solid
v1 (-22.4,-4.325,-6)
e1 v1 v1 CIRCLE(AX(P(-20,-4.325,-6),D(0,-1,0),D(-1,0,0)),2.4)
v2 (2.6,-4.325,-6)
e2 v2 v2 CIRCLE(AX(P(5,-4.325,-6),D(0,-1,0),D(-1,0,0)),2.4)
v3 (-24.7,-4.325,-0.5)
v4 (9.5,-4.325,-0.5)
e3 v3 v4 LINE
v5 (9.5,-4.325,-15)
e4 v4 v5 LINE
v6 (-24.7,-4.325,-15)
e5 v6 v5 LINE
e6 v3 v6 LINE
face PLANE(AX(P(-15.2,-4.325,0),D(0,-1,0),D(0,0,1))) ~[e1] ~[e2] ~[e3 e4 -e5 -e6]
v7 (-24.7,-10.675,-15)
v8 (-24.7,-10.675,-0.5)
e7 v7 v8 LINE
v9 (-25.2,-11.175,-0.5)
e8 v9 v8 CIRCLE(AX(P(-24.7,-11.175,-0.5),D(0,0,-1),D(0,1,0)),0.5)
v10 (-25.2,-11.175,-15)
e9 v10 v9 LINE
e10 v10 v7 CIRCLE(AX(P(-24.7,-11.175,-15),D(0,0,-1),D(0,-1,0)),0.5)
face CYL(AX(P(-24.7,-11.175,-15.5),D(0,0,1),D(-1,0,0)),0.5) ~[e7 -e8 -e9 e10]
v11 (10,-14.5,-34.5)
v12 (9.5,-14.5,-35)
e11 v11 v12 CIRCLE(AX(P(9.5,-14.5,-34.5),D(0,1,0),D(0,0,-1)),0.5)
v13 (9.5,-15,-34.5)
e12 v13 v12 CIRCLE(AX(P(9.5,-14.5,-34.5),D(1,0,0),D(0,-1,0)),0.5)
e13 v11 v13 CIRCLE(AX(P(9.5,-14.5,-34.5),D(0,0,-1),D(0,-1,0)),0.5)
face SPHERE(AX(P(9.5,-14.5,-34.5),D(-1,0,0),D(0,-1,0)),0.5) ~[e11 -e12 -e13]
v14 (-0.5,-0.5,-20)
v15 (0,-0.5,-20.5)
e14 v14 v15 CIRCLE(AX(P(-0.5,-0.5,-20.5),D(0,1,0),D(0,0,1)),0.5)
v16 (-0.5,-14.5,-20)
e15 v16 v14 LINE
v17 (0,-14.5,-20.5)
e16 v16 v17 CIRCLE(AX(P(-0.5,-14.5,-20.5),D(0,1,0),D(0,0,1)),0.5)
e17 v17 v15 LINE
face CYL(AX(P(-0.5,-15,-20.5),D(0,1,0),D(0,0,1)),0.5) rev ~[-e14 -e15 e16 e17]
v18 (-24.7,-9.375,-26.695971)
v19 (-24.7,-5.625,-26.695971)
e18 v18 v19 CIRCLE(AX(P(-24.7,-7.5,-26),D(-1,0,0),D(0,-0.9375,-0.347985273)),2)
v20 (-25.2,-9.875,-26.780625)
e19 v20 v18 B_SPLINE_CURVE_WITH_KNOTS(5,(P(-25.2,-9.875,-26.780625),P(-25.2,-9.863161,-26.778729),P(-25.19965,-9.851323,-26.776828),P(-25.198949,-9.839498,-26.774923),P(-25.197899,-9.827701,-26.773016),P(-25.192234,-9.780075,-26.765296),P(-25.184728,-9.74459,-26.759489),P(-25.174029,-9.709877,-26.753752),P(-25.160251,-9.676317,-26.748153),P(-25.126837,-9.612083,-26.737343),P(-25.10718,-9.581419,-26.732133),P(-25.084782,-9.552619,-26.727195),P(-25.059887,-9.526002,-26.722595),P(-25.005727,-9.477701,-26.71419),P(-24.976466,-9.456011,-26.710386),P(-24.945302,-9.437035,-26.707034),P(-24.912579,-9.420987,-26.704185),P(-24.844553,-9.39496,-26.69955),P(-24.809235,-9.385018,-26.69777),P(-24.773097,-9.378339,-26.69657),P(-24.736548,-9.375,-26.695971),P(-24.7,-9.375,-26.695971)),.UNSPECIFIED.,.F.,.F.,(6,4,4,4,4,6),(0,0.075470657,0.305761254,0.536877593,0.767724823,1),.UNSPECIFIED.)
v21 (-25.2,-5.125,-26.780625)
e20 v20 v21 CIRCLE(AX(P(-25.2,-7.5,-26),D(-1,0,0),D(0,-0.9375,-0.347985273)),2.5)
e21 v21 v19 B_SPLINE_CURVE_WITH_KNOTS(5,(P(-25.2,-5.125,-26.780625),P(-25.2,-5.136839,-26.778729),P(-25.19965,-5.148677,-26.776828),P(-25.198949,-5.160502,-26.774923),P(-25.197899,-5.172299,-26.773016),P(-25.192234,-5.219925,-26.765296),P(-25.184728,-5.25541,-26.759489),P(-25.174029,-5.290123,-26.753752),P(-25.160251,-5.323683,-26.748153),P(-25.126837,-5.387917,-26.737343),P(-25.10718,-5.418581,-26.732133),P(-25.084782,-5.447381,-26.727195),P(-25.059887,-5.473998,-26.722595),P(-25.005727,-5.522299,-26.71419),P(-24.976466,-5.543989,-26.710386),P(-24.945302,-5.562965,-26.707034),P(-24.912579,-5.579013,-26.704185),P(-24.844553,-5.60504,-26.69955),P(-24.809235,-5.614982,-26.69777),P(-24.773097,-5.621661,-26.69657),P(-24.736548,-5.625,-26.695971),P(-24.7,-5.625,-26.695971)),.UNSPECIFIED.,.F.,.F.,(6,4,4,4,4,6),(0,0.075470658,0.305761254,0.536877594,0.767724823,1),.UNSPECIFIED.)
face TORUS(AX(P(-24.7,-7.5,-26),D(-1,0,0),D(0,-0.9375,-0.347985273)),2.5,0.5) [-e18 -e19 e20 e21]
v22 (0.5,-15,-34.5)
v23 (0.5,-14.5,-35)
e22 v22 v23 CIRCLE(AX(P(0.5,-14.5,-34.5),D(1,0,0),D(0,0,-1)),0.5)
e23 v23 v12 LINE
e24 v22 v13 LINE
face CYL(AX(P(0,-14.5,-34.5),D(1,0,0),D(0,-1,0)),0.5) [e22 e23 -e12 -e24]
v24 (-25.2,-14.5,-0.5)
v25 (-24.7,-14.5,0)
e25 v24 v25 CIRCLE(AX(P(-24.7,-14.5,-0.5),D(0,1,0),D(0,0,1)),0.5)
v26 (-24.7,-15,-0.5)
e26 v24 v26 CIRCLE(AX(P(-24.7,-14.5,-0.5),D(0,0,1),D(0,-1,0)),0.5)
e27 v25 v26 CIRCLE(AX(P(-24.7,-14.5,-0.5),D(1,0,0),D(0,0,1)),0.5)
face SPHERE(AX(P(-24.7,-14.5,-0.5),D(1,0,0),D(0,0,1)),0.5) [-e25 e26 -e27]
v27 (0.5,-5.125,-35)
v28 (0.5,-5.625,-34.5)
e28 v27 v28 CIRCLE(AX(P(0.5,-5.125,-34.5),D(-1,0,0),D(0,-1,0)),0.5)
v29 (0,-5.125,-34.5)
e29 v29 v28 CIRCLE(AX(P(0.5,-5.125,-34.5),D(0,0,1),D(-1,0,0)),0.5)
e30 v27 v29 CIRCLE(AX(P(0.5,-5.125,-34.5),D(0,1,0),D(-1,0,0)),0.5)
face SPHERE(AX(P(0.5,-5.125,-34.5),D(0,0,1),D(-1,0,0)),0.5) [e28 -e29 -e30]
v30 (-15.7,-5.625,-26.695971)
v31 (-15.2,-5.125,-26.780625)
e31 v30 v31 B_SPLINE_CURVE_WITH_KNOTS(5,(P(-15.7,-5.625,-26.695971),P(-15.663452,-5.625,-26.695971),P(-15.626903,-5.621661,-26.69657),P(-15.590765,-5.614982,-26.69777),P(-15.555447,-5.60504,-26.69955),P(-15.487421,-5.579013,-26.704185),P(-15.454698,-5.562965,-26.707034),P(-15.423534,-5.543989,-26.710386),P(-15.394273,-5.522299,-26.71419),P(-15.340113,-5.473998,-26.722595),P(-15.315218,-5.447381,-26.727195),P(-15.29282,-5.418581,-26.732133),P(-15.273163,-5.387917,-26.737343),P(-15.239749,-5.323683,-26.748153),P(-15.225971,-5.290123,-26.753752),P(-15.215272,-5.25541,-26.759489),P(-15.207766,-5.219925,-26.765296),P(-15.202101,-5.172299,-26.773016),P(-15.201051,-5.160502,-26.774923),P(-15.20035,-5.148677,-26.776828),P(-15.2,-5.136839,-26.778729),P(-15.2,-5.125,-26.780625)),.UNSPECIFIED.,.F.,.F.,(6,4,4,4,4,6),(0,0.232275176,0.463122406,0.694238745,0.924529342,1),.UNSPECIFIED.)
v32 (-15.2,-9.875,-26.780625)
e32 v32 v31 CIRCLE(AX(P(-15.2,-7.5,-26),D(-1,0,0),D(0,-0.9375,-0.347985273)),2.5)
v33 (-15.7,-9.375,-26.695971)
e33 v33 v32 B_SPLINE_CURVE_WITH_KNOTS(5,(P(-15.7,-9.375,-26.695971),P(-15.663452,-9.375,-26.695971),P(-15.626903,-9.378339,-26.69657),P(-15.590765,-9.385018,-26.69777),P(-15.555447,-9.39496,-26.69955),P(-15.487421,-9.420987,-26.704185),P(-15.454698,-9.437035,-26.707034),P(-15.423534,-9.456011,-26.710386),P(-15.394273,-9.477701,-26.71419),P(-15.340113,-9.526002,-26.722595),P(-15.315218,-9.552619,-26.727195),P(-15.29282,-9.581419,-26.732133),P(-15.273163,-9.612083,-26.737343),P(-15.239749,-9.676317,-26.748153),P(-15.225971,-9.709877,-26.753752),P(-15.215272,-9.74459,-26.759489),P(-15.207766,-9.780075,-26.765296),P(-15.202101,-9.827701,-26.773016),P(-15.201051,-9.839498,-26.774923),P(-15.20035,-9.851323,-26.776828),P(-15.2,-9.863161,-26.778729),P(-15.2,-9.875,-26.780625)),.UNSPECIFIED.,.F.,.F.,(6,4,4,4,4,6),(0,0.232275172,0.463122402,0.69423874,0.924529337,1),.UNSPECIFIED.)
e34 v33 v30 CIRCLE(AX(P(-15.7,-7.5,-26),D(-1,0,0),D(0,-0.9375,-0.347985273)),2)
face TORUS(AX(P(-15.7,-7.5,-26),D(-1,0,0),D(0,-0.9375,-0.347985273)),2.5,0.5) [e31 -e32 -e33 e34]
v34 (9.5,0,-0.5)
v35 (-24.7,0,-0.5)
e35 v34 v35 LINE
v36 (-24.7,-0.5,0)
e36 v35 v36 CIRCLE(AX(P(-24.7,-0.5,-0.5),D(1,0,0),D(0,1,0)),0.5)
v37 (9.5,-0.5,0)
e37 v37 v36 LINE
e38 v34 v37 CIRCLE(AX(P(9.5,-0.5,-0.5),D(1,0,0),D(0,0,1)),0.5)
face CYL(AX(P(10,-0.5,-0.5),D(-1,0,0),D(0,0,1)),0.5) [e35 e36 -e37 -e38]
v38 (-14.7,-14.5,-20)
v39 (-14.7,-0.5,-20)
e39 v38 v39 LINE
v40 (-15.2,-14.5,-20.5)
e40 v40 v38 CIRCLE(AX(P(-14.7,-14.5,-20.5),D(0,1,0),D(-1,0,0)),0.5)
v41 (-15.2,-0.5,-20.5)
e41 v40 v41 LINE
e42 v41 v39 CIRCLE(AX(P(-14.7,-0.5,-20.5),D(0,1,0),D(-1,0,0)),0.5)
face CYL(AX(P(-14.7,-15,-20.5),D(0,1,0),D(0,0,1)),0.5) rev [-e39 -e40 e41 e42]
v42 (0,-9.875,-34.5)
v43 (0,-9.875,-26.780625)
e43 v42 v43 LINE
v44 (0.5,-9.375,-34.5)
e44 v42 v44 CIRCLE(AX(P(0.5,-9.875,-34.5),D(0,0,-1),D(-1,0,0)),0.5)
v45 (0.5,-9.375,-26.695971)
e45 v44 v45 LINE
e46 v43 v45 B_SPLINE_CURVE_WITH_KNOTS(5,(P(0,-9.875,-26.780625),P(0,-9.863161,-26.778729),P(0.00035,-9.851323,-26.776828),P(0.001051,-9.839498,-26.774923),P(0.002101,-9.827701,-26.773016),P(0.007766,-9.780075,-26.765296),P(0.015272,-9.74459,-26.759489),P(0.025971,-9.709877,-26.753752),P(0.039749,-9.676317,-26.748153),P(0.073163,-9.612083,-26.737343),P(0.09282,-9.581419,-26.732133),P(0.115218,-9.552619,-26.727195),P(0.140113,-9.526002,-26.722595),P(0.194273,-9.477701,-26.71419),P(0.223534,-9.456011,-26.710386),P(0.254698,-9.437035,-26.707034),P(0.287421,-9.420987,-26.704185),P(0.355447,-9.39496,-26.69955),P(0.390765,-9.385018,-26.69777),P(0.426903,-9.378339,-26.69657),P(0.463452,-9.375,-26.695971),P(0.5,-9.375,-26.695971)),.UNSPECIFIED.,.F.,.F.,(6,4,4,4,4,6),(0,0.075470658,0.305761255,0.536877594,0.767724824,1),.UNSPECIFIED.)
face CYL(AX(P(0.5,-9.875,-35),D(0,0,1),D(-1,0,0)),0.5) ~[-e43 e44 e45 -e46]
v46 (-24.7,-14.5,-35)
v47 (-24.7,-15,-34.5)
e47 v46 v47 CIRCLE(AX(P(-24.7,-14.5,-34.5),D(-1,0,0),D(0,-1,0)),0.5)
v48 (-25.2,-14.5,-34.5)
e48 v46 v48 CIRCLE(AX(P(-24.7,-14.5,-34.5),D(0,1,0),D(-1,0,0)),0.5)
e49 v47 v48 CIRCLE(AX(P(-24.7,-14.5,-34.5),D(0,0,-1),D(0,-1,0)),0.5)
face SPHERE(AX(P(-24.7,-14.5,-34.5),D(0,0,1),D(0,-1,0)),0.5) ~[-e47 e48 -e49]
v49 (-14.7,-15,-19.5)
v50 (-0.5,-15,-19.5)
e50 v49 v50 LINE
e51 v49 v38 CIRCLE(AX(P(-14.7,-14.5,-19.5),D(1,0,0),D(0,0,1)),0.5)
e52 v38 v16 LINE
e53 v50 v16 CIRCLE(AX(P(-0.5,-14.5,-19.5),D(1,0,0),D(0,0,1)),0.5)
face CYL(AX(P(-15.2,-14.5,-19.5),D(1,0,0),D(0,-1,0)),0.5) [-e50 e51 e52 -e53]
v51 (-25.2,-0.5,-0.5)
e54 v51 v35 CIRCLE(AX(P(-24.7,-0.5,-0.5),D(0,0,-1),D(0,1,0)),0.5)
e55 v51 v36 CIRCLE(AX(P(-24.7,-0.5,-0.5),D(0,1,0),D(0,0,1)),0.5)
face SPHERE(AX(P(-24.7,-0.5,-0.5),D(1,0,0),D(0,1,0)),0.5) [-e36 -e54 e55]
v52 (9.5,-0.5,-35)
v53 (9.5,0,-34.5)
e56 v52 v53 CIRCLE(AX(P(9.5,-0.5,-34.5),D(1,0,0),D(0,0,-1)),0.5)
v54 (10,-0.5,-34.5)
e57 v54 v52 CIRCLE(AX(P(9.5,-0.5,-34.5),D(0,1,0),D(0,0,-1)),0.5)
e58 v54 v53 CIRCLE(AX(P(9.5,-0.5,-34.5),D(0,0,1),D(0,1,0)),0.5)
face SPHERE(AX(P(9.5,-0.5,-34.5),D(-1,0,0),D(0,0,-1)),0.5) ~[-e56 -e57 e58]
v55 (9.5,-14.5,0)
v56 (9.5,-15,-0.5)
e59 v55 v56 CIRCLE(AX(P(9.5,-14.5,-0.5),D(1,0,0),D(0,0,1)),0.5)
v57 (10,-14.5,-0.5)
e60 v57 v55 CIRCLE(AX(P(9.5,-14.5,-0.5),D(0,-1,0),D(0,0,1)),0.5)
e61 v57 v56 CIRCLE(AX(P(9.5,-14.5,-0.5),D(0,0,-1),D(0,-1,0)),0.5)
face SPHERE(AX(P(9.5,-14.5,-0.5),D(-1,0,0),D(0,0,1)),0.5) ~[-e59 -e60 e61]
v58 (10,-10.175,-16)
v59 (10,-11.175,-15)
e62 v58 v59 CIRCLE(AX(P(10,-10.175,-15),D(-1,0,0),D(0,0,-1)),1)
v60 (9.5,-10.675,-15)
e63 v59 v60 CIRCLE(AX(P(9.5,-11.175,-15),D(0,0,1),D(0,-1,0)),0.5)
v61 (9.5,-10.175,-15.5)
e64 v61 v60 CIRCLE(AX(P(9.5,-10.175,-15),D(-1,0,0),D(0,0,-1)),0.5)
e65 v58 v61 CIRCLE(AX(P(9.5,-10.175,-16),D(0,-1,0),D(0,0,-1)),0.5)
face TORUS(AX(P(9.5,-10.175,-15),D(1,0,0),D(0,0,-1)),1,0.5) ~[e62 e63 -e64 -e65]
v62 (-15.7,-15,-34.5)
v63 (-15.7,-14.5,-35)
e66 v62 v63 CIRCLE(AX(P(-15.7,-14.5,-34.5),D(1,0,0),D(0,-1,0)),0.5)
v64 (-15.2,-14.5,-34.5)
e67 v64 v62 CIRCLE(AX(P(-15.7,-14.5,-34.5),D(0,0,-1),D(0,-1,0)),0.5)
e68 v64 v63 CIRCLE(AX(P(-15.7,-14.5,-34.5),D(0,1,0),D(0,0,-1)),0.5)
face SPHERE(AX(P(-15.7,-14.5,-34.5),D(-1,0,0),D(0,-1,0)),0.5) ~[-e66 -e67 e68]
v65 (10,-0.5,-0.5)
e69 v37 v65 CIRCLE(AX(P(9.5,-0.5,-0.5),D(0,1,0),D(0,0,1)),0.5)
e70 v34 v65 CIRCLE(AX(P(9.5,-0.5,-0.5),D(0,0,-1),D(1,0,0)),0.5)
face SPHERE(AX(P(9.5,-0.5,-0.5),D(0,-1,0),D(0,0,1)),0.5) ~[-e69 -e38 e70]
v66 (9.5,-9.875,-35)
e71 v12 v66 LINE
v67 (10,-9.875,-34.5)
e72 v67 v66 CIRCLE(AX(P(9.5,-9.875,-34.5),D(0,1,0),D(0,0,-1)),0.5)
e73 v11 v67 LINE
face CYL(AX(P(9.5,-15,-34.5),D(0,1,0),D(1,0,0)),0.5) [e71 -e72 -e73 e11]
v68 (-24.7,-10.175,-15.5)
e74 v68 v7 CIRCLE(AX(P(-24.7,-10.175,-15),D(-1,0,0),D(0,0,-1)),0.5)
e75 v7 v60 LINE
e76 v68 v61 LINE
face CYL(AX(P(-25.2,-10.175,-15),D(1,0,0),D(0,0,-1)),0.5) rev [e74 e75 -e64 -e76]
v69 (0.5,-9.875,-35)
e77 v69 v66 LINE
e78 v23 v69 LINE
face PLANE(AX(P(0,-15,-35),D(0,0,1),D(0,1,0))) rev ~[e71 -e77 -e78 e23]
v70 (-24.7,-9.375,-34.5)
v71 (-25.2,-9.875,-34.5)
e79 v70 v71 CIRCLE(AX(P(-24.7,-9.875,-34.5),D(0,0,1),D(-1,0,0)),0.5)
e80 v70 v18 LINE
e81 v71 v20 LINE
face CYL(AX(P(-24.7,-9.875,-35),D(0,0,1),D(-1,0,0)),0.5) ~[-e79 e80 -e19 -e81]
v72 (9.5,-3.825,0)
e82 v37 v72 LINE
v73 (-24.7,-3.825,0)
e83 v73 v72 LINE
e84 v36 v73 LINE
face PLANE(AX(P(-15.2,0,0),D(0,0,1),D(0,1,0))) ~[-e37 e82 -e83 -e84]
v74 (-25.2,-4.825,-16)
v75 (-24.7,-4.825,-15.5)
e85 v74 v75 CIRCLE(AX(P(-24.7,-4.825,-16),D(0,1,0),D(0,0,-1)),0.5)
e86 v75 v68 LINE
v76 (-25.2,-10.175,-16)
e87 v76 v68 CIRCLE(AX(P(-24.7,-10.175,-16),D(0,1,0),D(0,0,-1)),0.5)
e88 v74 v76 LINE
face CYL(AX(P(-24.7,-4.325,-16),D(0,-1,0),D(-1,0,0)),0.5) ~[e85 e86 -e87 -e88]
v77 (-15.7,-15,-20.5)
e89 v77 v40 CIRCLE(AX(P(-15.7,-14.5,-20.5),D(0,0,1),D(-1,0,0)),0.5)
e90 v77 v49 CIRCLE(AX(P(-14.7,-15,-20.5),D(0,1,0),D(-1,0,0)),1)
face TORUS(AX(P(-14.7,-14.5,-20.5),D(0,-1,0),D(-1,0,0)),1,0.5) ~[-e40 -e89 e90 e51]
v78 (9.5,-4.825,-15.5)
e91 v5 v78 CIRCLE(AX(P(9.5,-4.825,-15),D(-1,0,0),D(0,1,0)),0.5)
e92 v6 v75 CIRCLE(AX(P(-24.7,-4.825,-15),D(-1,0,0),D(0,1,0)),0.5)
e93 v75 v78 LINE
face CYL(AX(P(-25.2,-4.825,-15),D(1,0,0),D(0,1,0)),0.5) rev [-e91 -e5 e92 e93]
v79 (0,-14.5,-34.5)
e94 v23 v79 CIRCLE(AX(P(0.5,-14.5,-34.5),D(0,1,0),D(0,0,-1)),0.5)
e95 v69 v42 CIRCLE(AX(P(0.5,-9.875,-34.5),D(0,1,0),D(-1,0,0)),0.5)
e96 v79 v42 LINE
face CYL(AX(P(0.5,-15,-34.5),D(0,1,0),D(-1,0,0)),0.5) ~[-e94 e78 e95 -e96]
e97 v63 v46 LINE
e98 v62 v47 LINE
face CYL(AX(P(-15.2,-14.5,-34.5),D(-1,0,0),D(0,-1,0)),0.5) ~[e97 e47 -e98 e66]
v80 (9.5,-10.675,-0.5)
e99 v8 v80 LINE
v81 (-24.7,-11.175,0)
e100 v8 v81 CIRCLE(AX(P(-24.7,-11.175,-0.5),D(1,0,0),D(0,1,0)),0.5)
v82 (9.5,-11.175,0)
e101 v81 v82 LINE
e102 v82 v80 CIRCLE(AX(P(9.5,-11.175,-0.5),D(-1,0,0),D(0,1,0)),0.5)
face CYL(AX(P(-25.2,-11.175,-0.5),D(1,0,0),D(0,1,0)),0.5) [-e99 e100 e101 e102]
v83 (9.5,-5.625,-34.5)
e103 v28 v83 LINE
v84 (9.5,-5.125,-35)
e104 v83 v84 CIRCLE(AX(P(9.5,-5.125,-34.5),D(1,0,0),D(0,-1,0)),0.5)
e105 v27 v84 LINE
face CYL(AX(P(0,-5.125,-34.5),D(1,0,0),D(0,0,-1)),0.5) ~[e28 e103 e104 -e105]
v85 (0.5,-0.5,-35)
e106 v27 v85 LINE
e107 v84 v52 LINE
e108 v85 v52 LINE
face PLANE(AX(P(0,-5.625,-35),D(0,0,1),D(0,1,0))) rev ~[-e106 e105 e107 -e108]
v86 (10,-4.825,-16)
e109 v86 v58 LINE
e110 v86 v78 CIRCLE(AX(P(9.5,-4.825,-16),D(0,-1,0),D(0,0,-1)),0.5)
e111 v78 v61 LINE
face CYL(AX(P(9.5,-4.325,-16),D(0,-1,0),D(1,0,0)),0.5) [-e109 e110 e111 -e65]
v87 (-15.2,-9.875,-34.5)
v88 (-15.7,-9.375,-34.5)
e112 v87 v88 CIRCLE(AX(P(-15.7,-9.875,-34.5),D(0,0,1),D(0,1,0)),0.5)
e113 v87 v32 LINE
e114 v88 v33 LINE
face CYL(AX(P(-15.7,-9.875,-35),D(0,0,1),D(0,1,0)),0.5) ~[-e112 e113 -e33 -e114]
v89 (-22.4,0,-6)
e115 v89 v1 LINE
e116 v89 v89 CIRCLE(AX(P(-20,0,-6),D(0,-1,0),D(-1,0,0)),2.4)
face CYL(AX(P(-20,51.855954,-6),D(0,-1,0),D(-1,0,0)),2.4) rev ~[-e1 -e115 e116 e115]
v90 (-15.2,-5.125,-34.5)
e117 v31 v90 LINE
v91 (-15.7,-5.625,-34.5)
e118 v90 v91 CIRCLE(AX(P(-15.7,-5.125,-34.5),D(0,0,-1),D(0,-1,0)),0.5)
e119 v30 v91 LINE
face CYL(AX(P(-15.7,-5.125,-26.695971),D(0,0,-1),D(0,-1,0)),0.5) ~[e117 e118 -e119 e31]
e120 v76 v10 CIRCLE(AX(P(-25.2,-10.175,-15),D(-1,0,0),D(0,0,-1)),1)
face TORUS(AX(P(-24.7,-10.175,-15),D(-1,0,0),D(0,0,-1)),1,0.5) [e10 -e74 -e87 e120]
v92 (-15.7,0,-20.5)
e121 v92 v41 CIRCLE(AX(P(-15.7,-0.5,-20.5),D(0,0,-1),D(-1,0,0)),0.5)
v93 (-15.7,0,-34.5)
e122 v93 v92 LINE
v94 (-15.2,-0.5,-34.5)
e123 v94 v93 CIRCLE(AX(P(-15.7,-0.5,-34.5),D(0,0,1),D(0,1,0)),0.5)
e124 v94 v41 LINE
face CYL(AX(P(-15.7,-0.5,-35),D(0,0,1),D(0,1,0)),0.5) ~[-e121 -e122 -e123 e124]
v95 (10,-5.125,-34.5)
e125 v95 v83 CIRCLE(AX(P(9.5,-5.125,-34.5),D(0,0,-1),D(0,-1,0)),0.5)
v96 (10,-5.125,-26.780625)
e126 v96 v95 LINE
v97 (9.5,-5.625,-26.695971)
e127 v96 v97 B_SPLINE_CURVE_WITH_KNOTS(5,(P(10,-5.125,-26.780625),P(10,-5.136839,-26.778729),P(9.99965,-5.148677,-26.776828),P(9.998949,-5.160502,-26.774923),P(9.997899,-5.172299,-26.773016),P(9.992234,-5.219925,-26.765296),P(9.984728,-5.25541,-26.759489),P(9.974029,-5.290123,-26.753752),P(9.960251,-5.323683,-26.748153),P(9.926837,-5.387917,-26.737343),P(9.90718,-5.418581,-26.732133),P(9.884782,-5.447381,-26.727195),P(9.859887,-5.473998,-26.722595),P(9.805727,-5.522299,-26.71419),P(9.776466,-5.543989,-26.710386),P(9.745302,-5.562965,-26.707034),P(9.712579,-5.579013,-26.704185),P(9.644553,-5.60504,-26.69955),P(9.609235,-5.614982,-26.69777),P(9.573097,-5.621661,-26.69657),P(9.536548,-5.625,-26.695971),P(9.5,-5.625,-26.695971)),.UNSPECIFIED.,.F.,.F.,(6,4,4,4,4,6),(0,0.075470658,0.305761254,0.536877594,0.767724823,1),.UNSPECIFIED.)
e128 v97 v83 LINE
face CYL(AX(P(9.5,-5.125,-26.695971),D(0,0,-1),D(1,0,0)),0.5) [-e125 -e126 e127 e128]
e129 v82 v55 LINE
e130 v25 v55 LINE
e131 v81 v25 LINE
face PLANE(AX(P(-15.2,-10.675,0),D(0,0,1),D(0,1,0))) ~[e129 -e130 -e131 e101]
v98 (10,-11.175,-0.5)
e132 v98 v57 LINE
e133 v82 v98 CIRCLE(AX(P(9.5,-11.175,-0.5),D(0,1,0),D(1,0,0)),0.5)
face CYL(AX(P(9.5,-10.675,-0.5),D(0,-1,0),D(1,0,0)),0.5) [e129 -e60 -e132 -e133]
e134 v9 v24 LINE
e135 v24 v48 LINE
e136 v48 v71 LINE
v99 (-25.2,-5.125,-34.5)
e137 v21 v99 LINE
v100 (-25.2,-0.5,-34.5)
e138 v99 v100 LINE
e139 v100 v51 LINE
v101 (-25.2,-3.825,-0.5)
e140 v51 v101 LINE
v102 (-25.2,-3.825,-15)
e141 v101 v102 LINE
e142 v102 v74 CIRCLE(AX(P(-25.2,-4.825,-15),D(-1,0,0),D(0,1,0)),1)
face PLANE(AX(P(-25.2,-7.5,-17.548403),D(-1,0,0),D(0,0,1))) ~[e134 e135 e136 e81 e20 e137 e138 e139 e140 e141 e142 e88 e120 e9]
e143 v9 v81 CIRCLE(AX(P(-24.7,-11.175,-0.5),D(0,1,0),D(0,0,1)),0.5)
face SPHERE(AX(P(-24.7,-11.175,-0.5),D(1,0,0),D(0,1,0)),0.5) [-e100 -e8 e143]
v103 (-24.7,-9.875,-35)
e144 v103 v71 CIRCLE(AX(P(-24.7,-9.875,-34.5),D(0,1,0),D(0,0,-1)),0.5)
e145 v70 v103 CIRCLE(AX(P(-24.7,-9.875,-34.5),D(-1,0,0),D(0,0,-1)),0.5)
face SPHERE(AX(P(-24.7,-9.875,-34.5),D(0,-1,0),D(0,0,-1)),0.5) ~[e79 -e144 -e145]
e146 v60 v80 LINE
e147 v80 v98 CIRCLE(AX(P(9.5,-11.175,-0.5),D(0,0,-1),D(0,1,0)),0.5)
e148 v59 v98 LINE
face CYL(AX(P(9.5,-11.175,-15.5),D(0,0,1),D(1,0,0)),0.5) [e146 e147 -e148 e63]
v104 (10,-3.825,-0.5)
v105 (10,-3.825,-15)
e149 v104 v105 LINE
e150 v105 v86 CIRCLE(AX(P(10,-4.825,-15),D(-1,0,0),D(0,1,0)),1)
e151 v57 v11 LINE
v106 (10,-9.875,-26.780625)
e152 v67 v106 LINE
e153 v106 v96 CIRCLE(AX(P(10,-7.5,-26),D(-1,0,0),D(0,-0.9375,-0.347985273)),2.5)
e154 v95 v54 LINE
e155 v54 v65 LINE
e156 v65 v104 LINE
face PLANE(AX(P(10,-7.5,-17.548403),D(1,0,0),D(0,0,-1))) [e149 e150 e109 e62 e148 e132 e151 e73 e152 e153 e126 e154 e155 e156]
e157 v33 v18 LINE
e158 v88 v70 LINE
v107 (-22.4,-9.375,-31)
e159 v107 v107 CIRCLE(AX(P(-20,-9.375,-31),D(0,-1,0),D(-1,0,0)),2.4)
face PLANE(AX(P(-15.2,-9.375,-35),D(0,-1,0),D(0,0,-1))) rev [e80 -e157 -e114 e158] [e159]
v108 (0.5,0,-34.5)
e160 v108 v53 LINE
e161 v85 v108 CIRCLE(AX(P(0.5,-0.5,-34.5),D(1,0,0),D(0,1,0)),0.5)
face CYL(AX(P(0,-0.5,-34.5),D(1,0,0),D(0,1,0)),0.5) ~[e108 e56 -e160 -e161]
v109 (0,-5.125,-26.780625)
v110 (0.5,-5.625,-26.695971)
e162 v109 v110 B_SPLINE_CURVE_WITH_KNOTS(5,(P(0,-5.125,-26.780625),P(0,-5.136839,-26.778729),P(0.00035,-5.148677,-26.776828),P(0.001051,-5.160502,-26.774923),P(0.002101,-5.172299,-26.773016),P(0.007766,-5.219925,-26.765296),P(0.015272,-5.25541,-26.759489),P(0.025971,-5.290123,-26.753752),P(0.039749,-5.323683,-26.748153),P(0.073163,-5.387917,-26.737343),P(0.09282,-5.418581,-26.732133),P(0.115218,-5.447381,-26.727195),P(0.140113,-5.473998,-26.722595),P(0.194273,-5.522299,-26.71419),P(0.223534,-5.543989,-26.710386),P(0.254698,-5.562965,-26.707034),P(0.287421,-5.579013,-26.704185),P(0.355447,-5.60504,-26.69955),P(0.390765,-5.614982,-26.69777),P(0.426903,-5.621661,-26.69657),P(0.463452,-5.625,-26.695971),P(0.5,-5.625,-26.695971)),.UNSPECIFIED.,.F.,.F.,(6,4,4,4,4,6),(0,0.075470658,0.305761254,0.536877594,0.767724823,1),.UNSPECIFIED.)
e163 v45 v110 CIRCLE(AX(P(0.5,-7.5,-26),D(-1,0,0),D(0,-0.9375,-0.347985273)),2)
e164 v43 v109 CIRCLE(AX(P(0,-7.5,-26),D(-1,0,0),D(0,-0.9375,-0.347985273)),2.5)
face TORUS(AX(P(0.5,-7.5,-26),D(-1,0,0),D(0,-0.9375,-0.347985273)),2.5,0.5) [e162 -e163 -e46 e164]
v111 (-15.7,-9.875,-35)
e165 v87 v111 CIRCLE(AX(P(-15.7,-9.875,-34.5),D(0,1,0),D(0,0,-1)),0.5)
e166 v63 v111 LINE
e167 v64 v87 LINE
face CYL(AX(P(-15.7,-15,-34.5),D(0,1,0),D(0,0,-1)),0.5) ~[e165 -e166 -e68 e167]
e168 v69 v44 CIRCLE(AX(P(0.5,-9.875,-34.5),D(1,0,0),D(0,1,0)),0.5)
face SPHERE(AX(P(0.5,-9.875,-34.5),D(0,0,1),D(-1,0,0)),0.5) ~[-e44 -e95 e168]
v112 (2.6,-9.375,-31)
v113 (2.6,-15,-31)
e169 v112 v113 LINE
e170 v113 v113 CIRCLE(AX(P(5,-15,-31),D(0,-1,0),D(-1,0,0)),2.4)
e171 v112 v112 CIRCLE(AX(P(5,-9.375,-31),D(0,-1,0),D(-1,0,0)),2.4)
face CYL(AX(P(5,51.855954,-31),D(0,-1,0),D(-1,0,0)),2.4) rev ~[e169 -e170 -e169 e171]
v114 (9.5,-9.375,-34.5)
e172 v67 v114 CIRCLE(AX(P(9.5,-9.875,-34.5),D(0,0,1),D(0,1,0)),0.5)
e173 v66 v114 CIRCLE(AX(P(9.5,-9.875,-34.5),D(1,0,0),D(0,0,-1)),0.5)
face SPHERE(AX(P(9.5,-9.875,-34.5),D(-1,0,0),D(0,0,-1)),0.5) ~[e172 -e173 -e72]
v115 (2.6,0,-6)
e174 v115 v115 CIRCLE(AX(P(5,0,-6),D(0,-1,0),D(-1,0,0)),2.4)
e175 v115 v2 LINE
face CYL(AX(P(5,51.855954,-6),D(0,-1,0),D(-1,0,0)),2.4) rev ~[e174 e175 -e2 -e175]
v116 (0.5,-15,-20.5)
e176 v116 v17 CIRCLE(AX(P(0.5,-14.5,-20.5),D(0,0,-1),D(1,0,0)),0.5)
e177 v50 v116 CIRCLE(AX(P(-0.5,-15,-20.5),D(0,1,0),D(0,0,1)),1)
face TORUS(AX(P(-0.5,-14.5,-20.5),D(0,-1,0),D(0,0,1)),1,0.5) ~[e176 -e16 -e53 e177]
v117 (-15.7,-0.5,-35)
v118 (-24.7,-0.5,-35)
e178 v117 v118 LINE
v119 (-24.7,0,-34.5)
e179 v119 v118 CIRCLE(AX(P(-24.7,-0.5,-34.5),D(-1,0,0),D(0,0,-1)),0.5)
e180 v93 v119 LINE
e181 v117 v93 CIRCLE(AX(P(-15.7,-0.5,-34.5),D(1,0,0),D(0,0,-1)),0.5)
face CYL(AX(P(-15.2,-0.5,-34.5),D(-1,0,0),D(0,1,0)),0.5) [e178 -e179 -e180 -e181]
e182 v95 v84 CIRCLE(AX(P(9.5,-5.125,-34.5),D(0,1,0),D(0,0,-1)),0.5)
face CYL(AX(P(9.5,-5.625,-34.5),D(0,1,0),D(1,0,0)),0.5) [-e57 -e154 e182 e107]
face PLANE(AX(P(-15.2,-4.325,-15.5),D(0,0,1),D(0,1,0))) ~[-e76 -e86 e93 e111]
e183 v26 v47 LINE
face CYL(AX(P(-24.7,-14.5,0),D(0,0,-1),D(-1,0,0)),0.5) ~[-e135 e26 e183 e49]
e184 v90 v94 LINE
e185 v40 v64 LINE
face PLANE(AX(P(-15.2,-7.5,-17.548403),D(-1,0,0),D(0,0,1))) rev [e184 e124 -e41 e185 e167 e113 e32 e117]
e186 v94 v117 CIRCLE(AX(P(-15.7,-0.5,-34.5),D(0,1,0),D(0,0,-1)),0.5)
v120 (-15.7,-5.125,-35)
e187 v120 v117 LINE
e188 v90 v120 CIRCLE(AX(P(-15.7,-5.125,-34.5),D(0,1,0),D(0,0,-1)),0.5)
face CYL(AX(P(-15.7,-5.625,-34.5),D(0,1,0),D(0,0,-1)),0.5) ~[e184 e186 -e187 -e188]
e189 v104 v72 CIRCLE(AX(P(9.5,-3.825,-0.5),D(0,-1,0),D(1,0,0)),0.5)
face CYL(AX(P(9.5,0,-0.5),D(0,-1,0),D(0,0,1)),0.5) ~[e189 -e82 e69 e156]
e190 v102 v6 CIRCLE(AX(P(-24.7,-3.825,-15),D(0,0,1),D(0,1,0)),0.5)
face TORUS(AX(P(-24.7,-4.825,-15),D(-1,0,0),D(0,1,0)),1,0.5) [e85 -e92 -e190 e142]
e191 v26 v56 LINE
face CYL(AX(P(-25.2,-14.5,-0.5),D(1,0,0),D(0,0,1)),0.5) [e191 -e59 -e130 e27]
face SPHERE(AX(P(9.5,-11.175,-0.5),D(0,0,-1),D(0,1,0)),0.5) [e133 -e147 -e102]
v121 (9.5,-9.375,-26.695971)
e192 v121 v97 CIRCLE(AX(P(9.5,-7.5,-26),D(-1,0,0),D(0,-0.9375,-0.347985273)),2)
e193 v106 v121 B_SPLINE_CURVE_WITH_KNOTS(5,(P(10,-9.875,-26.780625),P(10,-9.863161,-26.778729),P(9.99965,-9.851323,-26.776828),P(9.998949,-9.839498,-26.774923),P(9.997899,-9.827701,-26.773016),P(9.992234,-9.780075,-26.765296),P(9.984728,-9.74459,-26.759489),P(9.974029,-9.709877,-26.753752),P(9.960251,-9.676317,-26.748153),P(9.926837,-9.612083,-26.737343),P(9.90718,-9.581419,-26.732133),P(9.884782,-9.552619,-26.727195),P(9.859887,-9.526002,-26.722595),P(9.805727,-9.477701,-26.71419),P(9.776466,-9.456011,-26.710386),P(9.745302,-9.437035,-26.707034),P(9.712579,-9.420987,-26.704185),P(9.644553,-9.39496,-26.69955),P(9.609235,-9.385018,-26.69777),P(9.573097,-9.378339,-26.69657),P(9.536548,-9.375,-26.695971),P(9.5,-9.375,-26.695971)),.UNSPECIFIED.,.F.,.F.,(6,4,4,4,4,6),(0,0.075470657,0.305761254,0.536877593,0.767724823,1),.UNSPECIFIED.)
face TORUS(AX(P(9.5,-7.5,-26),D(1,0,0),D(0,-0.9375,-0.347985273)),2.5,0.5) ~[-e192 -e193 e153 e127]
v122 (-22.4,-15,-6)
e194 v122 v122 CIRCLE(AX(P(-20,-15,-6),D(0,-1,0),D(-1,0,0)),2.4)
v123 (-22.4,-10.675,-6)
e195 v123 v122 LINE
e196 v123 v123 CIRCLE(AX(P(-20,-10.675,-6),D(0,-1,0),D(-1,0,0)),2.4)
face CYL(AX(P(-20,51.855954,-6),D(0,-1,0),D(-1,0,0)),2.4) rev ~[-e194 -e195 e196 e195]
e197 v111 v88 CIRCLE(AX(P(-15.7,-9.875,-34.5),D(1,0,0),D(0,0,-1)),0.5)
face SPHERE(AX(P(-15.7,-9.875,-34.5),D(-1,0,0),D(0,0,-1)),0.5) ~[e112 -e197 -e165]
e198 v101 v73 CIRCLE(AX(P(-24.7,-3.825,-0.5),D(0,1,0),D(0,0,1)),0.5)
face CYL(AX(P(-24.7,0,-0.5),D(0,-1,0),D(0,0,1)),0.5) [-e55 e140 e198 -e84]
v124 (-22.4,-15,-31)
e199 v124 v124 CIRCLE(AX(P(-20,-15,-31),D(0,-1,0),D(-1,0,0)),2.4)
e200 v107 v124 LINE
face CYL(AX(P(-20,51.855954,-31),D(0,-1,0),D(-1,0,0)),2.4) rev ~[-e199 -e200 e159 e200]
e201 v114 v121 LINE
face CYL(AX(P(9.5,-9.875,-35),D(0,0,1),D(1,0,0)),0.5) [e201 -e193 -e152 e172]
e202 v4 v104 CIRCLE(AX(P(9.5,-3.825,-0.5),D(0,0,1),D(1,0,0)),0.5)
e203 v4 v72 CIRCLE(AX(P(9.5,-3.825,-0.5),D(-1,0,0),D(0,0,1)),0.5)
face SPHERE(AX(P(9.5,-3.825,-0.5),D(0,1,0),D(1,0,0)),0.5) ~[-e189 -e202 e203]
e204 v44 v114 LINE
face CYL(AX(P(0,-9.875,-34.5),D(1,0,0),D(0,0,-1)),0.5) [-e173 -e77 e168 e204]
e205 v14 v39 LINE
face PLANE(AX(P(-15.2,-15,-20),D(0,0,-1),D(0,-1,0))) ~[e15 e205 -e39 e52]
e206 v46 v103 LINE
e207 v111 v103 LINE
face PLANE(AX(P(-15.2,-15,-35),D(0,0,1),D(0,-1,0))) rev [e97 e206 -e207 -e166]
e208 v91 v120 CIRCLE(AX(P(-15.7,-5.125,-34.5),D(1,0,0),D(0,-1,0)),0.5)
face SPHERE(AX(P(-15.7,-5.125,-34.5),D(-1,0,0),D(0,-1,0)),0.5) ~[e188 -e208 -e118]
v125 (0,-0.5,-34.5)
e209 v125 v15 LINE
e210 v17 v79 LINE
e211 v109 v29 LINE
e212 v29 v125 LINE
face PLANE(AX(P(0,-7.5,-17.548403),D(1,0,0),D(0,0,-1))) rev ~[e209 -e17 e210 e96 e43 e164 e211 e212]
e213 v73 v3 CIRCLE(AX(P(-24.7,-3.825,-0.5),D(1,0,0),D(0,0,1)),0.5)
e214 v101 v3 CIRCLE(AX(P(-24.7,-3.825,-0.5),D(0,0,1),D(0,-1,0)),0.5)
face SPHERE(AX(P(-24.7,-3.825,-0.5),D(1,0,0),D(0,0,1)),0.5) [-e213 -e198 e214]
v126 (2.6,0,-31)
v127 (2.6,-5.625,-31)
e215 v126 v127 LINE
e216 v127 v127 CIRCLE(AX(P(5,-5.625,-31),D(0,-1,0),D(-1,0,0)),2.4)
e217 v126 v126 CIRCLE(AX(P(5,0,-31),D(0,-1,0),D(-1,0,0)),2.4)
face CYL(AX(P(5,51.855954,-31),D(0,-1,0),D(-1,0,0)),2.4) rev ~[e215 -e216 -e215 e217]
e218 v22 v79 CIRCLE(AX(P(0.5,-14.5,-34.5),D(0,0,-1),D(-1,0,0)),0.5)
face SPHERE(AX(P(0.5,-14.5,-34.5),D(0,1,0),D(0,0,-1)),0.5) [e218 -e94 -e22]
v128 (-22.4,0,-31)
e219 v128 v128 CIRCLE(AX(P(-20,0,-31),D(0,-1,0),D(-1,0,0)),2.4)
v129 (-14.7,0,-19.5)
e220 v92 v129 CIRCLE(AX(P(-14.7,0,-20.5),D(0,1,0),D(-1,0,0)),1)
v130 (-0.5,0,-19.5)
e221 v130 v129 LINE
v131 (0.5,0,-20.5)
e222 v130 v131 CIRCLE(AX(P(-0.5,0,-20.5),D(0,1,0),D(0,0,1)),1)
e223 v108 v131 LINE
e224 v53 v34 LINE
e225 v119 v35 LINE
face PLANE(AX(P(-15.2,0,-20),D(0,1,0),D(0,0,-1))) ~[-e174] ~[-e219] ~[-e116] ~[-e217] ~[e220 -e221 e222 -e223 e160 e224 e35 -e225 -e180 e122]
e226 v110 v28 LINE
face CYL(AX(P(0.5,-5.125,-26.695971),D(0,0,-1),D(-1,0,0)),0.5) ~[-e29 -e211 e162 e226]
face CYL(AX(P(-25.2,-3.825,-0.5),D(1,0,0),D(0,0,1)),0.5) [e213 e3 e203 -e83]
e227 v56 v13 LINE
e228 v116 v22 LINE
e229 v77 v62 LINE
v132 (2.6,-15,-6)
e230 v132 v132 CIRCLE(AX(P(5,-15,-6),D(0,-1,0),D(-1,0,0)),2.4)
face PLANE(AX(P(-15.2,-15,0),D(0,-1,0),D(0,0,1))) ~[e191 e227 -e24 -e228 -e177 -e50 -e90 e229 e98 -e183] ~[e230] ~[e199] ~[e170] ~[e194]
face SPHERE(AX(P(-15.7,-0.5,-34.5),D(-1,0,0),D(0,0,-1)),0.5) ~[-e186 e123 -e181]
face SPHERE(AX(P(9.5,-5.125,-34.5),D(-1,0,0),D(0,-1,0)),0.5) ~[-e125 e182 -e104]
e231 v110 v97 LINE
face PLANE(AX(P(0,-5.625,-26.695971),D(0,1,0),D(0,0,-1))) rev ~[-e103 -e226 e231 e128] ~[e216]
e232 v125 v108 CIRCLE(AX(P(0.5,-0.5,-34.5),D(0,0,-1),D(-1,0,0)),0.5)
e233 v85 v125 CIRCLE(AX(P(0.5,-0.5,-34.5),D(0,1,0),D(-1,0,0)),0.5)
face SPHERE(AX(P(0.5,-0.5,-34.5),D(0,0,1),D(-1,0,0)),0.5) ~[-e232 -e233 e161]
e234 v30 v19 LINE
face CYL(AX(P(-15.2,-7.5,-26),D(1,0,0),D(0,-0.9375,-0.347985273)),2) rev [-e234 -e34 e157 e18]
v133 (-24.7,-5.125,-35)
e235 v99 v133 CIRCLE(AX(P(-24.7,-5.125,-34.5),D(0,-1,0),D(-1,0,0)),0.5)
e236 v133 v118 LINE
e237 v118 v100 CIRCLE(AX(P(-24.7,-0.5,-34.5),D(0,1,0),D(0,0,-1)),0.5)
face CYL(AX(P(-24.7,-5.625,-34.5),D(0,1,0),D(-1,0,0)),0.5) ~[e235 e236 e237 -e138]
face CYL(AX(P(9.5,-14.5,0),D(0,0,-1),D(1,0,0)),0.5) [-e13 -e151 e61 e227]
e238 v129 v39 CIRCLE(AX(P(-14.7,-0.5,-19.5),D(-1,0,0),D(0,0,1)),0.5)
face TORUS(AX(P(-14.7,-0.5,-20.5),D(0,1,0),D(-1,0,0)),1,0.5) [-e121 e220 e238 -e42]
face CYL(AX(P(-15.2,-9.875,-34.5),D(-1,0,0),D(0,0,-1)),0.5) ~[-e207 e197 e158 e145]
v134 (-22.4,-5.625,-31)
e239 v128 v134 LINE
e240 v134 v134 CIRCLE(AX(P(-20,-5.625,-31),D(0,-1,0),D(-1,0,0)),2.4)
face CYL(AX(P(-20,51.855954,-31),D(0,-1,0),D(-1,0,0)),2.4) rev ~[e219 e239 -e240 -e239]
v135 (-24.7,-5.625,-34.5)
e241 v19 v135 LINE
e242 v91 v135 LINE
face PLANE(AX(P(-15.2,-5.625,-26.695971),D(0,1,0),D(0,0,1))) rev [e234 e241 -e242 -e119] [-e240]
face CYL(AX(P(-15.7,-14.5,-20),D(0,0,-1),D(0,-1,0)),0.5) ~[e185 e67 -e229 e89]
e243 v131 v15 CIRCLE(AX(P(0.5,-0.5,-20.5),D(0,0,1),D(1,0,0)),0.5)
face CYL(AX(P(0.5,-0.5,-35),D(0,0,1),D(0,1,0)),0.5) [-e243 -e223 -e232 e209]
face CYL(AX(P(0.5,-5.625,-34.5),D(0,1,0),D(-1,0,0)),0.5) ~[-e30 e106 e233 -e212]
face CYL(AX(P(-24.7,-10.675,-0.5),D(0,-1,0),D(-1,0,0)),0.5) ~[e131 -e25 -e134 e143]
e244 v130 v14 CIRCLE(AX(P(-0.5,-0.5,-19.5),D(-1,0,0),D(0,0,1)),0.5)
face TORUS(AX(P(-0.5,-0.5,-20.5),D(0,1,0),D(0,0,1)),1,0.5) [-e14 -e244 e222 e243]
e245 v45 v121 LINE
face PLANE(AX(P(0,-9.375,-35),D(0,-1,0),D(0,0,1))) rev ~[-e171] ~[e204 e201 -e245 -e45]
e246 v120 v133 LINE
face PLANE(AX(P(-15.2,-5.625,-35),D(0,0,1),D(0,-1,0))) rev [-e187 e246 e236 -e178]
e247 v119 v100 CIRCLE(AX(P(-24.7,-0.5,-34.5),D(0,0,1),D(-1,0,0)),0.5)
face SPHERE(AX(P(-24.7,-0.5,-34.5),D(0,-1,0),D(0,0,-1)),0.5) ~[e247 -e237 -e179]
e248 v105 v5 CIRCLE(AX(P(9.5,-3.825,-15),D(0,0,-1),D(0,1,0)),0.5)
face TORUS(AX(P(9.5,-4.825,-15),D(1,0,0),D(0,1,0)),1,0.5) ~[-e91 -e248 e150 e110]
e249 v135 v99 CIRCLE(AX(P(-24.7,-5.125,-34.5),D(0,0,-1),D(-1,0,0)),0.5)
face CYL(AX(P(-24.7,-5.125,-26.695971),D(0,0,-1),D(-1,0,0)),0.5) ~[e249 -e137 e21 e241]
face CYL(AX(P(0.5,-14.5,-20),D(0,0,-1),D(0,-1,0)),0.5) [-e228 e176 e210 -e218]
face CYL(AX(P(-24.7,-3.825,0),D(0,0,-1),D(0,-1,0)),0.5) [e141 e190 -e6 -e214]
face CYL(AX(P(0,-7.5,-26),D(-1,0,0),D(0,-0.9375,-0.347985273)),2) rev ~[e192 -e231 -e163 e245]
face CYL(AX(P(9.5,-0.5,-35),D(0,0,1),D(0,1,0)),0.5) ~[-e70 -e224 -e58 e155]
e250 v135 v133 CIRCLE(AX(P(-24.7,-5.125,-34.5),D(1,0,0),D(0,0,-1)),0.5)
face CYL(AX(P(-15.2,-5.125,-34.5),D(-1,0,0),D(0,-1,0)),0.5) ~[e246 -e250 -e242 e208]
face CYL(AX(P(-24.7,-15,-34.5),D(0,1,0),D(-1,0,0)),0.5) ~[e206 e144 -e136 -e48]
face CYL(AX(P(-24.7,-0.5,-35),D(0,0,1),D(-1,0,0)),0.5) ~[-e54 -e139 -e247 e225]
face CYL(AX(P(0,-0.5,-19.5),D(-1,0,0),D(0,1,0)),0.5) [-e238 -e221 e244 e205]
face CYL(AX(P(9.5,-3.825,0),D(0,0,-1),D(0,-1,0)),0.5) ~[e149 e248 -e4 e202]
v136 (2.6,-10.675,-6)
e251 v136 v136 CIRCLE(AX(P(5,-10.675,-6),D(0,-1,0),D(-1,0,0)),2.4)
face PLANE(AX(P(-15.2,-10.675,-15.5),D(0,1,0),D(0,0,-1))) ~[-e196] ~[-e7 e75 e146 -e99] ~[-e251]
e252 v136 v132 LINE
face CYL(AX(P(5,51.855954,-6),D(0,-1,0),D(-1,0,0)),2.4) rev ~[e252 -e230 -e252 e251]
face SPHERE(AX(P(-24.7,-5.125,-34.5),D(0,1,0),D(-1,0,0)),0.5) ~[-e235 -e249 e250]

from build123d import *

# Parameters (mm, degrees)
BOSS_EXTRU_1_DEPTH = 10
BOSS_EXTRU_2_DEPTH = 7.6
D_GAGEMENT_M41_D   = 4.8
CONG_1_R           = 0.5


with BuildPart() as part:
    # Esquisse2 → Boss.-Extru.1 (new body)
    with BuildSketch(Plane(origin=(0, 0, 0), x_dir=(0, 0, -1), z_dir=(1, 0, 0))):
        with BuildLine():
            Line((35, 0), (0, 0))
            Line((0, 0), (0, -4.325))
            Line((0, -4.325), (15.5, -4.325))
            Line((15.5, -4.325), (15.5, -10.675))
            Line((15.5, -10.675), (0, -10.675))
            Line((0, -10.675), (0, -15))
            Line((0, -15), (35, -15))
            Line((35, -15), (35, -9.375))
            Line((35, -9.375), (26.695970545, -9.375))
            ThreePointArc((26.695970545, -9.375), (24, -7.5), (26.695970545, -5.625))
            Line((26.695970545, -5.625), (35, -5.625))
            Line((35, -5.625), (35, 0))
        make_face()
    extrude(amount=BOSS_EXTRU_1_DEPTH)

    # Esquisse3 → Boss.-Extru.2 (add)
    with BuildSketch(Plane.ZY):
        Polygon((0, 0), (0, -4.325), (-15.5, -4.325), (-15.5, -10.675), (0, -10.675), (0, -15), (-20, -15), (-20, 0), align=None)
    extrude(amount=BOSS_EXTRU_2_DEPTH)

    # Symétrie5: part across plane


with BuildPart() as part_1:
    add(part.part)
    add(part.part.mirror(Plane(origin=(-7.6, 0, 0), x_dir=(0, 0, 1), z_dir=(1, 0, 0))))

    # Dégagement M41 (through all)
    with Locations(Plane(origin=(0, 0, 0), x_dir=(1, 0, 0), z_dir=(0, 1, 0))):
        with Locations((5, 6), (-20, 6), (5, 31), (-20, 31)):
            Hole(D_GAGEMENT_M41_D / 2)

    # Congé1
    cong_1_edges = [part_1.edges().sort_by_distance(p)[0] for p in [
        (10, -2.1625, 0),
        (0, -5.625, -30.847985273),
        (0, -7.5, -24),
        (0, -9.375, -30.847985273),
        (0, -12.1875, -35),
        (10, -4.325, -7.75),
        (0, 0, -27.5),
        (0, -2.8125, -35),
        (10, -7.5, -15.5),
        (10, -10.675, -7.75),
        (5, -5.625, -35),
        (5, -9.375, -35),
        (5, -15, -35),
        (-7.6, -15, 0),
        (-7.6, -10.675, 0),
        (-7.6, -10.675, -15.5),
        (-7.6, -4.325, -15.5),
        (-7.6, -4.325, 0),
        (-7.6, 0, 0),
        (5, 0, -35),
        (10, -12.8375, 0),
        (10, -15, -17.5),
        (10, -12.1875, -35),
        (10, -9.375, -30.847985273),
        (0, -15, -27.5),
        (10, -7.5, -24),
        (0, -7.5, -20),
        (-7.6, 0, -20),
        (-7.6, -15, -20),
        (10, -5.625, -30.847985273),
        (10, -2.8125, -35),
        (-25.2, -2.8125, -35),
        (-20.2, 0, -35),
        (-25.2, 0, -17.5),
        (-25.2, -2.1625, 0),
        (-25.2, -4.325, -7.75),
        (-25.2, -7.5, -15.5),
        (-25.2, -10.675, -7.75),
        (-25.2, -12.8375, 0),
        (-25.2, -15, -17.5),
        (-20.2, -15, -35),
        (-25.2, -12.1875, -35),
        (-20.2, -9.375, -35),
        (-25.2, -9.375, -30.847985273),
        (-25.2, -7.5, -24),
        (-25.2, -5.625, -30.847985273),
        (-20.2, -5.625, -35),
        (-15.2, -7.5, -20),
        (-15.2, -15, -27.5),
        (-15.2, -12.1875, -35),
        (-15.2, -9.375, -30.847985273),
        (-15.2, -7.5, -24),
        (-15.2, -5.625, -30.847985273),
        (-15.2, -2.8125, -35),
        (-15.2, 0, -27.5),
        (10, 0, -17.5),
    ]]
    fillet(cong_1_edges, radius=CONG_1_R)


solid = part_1.part
